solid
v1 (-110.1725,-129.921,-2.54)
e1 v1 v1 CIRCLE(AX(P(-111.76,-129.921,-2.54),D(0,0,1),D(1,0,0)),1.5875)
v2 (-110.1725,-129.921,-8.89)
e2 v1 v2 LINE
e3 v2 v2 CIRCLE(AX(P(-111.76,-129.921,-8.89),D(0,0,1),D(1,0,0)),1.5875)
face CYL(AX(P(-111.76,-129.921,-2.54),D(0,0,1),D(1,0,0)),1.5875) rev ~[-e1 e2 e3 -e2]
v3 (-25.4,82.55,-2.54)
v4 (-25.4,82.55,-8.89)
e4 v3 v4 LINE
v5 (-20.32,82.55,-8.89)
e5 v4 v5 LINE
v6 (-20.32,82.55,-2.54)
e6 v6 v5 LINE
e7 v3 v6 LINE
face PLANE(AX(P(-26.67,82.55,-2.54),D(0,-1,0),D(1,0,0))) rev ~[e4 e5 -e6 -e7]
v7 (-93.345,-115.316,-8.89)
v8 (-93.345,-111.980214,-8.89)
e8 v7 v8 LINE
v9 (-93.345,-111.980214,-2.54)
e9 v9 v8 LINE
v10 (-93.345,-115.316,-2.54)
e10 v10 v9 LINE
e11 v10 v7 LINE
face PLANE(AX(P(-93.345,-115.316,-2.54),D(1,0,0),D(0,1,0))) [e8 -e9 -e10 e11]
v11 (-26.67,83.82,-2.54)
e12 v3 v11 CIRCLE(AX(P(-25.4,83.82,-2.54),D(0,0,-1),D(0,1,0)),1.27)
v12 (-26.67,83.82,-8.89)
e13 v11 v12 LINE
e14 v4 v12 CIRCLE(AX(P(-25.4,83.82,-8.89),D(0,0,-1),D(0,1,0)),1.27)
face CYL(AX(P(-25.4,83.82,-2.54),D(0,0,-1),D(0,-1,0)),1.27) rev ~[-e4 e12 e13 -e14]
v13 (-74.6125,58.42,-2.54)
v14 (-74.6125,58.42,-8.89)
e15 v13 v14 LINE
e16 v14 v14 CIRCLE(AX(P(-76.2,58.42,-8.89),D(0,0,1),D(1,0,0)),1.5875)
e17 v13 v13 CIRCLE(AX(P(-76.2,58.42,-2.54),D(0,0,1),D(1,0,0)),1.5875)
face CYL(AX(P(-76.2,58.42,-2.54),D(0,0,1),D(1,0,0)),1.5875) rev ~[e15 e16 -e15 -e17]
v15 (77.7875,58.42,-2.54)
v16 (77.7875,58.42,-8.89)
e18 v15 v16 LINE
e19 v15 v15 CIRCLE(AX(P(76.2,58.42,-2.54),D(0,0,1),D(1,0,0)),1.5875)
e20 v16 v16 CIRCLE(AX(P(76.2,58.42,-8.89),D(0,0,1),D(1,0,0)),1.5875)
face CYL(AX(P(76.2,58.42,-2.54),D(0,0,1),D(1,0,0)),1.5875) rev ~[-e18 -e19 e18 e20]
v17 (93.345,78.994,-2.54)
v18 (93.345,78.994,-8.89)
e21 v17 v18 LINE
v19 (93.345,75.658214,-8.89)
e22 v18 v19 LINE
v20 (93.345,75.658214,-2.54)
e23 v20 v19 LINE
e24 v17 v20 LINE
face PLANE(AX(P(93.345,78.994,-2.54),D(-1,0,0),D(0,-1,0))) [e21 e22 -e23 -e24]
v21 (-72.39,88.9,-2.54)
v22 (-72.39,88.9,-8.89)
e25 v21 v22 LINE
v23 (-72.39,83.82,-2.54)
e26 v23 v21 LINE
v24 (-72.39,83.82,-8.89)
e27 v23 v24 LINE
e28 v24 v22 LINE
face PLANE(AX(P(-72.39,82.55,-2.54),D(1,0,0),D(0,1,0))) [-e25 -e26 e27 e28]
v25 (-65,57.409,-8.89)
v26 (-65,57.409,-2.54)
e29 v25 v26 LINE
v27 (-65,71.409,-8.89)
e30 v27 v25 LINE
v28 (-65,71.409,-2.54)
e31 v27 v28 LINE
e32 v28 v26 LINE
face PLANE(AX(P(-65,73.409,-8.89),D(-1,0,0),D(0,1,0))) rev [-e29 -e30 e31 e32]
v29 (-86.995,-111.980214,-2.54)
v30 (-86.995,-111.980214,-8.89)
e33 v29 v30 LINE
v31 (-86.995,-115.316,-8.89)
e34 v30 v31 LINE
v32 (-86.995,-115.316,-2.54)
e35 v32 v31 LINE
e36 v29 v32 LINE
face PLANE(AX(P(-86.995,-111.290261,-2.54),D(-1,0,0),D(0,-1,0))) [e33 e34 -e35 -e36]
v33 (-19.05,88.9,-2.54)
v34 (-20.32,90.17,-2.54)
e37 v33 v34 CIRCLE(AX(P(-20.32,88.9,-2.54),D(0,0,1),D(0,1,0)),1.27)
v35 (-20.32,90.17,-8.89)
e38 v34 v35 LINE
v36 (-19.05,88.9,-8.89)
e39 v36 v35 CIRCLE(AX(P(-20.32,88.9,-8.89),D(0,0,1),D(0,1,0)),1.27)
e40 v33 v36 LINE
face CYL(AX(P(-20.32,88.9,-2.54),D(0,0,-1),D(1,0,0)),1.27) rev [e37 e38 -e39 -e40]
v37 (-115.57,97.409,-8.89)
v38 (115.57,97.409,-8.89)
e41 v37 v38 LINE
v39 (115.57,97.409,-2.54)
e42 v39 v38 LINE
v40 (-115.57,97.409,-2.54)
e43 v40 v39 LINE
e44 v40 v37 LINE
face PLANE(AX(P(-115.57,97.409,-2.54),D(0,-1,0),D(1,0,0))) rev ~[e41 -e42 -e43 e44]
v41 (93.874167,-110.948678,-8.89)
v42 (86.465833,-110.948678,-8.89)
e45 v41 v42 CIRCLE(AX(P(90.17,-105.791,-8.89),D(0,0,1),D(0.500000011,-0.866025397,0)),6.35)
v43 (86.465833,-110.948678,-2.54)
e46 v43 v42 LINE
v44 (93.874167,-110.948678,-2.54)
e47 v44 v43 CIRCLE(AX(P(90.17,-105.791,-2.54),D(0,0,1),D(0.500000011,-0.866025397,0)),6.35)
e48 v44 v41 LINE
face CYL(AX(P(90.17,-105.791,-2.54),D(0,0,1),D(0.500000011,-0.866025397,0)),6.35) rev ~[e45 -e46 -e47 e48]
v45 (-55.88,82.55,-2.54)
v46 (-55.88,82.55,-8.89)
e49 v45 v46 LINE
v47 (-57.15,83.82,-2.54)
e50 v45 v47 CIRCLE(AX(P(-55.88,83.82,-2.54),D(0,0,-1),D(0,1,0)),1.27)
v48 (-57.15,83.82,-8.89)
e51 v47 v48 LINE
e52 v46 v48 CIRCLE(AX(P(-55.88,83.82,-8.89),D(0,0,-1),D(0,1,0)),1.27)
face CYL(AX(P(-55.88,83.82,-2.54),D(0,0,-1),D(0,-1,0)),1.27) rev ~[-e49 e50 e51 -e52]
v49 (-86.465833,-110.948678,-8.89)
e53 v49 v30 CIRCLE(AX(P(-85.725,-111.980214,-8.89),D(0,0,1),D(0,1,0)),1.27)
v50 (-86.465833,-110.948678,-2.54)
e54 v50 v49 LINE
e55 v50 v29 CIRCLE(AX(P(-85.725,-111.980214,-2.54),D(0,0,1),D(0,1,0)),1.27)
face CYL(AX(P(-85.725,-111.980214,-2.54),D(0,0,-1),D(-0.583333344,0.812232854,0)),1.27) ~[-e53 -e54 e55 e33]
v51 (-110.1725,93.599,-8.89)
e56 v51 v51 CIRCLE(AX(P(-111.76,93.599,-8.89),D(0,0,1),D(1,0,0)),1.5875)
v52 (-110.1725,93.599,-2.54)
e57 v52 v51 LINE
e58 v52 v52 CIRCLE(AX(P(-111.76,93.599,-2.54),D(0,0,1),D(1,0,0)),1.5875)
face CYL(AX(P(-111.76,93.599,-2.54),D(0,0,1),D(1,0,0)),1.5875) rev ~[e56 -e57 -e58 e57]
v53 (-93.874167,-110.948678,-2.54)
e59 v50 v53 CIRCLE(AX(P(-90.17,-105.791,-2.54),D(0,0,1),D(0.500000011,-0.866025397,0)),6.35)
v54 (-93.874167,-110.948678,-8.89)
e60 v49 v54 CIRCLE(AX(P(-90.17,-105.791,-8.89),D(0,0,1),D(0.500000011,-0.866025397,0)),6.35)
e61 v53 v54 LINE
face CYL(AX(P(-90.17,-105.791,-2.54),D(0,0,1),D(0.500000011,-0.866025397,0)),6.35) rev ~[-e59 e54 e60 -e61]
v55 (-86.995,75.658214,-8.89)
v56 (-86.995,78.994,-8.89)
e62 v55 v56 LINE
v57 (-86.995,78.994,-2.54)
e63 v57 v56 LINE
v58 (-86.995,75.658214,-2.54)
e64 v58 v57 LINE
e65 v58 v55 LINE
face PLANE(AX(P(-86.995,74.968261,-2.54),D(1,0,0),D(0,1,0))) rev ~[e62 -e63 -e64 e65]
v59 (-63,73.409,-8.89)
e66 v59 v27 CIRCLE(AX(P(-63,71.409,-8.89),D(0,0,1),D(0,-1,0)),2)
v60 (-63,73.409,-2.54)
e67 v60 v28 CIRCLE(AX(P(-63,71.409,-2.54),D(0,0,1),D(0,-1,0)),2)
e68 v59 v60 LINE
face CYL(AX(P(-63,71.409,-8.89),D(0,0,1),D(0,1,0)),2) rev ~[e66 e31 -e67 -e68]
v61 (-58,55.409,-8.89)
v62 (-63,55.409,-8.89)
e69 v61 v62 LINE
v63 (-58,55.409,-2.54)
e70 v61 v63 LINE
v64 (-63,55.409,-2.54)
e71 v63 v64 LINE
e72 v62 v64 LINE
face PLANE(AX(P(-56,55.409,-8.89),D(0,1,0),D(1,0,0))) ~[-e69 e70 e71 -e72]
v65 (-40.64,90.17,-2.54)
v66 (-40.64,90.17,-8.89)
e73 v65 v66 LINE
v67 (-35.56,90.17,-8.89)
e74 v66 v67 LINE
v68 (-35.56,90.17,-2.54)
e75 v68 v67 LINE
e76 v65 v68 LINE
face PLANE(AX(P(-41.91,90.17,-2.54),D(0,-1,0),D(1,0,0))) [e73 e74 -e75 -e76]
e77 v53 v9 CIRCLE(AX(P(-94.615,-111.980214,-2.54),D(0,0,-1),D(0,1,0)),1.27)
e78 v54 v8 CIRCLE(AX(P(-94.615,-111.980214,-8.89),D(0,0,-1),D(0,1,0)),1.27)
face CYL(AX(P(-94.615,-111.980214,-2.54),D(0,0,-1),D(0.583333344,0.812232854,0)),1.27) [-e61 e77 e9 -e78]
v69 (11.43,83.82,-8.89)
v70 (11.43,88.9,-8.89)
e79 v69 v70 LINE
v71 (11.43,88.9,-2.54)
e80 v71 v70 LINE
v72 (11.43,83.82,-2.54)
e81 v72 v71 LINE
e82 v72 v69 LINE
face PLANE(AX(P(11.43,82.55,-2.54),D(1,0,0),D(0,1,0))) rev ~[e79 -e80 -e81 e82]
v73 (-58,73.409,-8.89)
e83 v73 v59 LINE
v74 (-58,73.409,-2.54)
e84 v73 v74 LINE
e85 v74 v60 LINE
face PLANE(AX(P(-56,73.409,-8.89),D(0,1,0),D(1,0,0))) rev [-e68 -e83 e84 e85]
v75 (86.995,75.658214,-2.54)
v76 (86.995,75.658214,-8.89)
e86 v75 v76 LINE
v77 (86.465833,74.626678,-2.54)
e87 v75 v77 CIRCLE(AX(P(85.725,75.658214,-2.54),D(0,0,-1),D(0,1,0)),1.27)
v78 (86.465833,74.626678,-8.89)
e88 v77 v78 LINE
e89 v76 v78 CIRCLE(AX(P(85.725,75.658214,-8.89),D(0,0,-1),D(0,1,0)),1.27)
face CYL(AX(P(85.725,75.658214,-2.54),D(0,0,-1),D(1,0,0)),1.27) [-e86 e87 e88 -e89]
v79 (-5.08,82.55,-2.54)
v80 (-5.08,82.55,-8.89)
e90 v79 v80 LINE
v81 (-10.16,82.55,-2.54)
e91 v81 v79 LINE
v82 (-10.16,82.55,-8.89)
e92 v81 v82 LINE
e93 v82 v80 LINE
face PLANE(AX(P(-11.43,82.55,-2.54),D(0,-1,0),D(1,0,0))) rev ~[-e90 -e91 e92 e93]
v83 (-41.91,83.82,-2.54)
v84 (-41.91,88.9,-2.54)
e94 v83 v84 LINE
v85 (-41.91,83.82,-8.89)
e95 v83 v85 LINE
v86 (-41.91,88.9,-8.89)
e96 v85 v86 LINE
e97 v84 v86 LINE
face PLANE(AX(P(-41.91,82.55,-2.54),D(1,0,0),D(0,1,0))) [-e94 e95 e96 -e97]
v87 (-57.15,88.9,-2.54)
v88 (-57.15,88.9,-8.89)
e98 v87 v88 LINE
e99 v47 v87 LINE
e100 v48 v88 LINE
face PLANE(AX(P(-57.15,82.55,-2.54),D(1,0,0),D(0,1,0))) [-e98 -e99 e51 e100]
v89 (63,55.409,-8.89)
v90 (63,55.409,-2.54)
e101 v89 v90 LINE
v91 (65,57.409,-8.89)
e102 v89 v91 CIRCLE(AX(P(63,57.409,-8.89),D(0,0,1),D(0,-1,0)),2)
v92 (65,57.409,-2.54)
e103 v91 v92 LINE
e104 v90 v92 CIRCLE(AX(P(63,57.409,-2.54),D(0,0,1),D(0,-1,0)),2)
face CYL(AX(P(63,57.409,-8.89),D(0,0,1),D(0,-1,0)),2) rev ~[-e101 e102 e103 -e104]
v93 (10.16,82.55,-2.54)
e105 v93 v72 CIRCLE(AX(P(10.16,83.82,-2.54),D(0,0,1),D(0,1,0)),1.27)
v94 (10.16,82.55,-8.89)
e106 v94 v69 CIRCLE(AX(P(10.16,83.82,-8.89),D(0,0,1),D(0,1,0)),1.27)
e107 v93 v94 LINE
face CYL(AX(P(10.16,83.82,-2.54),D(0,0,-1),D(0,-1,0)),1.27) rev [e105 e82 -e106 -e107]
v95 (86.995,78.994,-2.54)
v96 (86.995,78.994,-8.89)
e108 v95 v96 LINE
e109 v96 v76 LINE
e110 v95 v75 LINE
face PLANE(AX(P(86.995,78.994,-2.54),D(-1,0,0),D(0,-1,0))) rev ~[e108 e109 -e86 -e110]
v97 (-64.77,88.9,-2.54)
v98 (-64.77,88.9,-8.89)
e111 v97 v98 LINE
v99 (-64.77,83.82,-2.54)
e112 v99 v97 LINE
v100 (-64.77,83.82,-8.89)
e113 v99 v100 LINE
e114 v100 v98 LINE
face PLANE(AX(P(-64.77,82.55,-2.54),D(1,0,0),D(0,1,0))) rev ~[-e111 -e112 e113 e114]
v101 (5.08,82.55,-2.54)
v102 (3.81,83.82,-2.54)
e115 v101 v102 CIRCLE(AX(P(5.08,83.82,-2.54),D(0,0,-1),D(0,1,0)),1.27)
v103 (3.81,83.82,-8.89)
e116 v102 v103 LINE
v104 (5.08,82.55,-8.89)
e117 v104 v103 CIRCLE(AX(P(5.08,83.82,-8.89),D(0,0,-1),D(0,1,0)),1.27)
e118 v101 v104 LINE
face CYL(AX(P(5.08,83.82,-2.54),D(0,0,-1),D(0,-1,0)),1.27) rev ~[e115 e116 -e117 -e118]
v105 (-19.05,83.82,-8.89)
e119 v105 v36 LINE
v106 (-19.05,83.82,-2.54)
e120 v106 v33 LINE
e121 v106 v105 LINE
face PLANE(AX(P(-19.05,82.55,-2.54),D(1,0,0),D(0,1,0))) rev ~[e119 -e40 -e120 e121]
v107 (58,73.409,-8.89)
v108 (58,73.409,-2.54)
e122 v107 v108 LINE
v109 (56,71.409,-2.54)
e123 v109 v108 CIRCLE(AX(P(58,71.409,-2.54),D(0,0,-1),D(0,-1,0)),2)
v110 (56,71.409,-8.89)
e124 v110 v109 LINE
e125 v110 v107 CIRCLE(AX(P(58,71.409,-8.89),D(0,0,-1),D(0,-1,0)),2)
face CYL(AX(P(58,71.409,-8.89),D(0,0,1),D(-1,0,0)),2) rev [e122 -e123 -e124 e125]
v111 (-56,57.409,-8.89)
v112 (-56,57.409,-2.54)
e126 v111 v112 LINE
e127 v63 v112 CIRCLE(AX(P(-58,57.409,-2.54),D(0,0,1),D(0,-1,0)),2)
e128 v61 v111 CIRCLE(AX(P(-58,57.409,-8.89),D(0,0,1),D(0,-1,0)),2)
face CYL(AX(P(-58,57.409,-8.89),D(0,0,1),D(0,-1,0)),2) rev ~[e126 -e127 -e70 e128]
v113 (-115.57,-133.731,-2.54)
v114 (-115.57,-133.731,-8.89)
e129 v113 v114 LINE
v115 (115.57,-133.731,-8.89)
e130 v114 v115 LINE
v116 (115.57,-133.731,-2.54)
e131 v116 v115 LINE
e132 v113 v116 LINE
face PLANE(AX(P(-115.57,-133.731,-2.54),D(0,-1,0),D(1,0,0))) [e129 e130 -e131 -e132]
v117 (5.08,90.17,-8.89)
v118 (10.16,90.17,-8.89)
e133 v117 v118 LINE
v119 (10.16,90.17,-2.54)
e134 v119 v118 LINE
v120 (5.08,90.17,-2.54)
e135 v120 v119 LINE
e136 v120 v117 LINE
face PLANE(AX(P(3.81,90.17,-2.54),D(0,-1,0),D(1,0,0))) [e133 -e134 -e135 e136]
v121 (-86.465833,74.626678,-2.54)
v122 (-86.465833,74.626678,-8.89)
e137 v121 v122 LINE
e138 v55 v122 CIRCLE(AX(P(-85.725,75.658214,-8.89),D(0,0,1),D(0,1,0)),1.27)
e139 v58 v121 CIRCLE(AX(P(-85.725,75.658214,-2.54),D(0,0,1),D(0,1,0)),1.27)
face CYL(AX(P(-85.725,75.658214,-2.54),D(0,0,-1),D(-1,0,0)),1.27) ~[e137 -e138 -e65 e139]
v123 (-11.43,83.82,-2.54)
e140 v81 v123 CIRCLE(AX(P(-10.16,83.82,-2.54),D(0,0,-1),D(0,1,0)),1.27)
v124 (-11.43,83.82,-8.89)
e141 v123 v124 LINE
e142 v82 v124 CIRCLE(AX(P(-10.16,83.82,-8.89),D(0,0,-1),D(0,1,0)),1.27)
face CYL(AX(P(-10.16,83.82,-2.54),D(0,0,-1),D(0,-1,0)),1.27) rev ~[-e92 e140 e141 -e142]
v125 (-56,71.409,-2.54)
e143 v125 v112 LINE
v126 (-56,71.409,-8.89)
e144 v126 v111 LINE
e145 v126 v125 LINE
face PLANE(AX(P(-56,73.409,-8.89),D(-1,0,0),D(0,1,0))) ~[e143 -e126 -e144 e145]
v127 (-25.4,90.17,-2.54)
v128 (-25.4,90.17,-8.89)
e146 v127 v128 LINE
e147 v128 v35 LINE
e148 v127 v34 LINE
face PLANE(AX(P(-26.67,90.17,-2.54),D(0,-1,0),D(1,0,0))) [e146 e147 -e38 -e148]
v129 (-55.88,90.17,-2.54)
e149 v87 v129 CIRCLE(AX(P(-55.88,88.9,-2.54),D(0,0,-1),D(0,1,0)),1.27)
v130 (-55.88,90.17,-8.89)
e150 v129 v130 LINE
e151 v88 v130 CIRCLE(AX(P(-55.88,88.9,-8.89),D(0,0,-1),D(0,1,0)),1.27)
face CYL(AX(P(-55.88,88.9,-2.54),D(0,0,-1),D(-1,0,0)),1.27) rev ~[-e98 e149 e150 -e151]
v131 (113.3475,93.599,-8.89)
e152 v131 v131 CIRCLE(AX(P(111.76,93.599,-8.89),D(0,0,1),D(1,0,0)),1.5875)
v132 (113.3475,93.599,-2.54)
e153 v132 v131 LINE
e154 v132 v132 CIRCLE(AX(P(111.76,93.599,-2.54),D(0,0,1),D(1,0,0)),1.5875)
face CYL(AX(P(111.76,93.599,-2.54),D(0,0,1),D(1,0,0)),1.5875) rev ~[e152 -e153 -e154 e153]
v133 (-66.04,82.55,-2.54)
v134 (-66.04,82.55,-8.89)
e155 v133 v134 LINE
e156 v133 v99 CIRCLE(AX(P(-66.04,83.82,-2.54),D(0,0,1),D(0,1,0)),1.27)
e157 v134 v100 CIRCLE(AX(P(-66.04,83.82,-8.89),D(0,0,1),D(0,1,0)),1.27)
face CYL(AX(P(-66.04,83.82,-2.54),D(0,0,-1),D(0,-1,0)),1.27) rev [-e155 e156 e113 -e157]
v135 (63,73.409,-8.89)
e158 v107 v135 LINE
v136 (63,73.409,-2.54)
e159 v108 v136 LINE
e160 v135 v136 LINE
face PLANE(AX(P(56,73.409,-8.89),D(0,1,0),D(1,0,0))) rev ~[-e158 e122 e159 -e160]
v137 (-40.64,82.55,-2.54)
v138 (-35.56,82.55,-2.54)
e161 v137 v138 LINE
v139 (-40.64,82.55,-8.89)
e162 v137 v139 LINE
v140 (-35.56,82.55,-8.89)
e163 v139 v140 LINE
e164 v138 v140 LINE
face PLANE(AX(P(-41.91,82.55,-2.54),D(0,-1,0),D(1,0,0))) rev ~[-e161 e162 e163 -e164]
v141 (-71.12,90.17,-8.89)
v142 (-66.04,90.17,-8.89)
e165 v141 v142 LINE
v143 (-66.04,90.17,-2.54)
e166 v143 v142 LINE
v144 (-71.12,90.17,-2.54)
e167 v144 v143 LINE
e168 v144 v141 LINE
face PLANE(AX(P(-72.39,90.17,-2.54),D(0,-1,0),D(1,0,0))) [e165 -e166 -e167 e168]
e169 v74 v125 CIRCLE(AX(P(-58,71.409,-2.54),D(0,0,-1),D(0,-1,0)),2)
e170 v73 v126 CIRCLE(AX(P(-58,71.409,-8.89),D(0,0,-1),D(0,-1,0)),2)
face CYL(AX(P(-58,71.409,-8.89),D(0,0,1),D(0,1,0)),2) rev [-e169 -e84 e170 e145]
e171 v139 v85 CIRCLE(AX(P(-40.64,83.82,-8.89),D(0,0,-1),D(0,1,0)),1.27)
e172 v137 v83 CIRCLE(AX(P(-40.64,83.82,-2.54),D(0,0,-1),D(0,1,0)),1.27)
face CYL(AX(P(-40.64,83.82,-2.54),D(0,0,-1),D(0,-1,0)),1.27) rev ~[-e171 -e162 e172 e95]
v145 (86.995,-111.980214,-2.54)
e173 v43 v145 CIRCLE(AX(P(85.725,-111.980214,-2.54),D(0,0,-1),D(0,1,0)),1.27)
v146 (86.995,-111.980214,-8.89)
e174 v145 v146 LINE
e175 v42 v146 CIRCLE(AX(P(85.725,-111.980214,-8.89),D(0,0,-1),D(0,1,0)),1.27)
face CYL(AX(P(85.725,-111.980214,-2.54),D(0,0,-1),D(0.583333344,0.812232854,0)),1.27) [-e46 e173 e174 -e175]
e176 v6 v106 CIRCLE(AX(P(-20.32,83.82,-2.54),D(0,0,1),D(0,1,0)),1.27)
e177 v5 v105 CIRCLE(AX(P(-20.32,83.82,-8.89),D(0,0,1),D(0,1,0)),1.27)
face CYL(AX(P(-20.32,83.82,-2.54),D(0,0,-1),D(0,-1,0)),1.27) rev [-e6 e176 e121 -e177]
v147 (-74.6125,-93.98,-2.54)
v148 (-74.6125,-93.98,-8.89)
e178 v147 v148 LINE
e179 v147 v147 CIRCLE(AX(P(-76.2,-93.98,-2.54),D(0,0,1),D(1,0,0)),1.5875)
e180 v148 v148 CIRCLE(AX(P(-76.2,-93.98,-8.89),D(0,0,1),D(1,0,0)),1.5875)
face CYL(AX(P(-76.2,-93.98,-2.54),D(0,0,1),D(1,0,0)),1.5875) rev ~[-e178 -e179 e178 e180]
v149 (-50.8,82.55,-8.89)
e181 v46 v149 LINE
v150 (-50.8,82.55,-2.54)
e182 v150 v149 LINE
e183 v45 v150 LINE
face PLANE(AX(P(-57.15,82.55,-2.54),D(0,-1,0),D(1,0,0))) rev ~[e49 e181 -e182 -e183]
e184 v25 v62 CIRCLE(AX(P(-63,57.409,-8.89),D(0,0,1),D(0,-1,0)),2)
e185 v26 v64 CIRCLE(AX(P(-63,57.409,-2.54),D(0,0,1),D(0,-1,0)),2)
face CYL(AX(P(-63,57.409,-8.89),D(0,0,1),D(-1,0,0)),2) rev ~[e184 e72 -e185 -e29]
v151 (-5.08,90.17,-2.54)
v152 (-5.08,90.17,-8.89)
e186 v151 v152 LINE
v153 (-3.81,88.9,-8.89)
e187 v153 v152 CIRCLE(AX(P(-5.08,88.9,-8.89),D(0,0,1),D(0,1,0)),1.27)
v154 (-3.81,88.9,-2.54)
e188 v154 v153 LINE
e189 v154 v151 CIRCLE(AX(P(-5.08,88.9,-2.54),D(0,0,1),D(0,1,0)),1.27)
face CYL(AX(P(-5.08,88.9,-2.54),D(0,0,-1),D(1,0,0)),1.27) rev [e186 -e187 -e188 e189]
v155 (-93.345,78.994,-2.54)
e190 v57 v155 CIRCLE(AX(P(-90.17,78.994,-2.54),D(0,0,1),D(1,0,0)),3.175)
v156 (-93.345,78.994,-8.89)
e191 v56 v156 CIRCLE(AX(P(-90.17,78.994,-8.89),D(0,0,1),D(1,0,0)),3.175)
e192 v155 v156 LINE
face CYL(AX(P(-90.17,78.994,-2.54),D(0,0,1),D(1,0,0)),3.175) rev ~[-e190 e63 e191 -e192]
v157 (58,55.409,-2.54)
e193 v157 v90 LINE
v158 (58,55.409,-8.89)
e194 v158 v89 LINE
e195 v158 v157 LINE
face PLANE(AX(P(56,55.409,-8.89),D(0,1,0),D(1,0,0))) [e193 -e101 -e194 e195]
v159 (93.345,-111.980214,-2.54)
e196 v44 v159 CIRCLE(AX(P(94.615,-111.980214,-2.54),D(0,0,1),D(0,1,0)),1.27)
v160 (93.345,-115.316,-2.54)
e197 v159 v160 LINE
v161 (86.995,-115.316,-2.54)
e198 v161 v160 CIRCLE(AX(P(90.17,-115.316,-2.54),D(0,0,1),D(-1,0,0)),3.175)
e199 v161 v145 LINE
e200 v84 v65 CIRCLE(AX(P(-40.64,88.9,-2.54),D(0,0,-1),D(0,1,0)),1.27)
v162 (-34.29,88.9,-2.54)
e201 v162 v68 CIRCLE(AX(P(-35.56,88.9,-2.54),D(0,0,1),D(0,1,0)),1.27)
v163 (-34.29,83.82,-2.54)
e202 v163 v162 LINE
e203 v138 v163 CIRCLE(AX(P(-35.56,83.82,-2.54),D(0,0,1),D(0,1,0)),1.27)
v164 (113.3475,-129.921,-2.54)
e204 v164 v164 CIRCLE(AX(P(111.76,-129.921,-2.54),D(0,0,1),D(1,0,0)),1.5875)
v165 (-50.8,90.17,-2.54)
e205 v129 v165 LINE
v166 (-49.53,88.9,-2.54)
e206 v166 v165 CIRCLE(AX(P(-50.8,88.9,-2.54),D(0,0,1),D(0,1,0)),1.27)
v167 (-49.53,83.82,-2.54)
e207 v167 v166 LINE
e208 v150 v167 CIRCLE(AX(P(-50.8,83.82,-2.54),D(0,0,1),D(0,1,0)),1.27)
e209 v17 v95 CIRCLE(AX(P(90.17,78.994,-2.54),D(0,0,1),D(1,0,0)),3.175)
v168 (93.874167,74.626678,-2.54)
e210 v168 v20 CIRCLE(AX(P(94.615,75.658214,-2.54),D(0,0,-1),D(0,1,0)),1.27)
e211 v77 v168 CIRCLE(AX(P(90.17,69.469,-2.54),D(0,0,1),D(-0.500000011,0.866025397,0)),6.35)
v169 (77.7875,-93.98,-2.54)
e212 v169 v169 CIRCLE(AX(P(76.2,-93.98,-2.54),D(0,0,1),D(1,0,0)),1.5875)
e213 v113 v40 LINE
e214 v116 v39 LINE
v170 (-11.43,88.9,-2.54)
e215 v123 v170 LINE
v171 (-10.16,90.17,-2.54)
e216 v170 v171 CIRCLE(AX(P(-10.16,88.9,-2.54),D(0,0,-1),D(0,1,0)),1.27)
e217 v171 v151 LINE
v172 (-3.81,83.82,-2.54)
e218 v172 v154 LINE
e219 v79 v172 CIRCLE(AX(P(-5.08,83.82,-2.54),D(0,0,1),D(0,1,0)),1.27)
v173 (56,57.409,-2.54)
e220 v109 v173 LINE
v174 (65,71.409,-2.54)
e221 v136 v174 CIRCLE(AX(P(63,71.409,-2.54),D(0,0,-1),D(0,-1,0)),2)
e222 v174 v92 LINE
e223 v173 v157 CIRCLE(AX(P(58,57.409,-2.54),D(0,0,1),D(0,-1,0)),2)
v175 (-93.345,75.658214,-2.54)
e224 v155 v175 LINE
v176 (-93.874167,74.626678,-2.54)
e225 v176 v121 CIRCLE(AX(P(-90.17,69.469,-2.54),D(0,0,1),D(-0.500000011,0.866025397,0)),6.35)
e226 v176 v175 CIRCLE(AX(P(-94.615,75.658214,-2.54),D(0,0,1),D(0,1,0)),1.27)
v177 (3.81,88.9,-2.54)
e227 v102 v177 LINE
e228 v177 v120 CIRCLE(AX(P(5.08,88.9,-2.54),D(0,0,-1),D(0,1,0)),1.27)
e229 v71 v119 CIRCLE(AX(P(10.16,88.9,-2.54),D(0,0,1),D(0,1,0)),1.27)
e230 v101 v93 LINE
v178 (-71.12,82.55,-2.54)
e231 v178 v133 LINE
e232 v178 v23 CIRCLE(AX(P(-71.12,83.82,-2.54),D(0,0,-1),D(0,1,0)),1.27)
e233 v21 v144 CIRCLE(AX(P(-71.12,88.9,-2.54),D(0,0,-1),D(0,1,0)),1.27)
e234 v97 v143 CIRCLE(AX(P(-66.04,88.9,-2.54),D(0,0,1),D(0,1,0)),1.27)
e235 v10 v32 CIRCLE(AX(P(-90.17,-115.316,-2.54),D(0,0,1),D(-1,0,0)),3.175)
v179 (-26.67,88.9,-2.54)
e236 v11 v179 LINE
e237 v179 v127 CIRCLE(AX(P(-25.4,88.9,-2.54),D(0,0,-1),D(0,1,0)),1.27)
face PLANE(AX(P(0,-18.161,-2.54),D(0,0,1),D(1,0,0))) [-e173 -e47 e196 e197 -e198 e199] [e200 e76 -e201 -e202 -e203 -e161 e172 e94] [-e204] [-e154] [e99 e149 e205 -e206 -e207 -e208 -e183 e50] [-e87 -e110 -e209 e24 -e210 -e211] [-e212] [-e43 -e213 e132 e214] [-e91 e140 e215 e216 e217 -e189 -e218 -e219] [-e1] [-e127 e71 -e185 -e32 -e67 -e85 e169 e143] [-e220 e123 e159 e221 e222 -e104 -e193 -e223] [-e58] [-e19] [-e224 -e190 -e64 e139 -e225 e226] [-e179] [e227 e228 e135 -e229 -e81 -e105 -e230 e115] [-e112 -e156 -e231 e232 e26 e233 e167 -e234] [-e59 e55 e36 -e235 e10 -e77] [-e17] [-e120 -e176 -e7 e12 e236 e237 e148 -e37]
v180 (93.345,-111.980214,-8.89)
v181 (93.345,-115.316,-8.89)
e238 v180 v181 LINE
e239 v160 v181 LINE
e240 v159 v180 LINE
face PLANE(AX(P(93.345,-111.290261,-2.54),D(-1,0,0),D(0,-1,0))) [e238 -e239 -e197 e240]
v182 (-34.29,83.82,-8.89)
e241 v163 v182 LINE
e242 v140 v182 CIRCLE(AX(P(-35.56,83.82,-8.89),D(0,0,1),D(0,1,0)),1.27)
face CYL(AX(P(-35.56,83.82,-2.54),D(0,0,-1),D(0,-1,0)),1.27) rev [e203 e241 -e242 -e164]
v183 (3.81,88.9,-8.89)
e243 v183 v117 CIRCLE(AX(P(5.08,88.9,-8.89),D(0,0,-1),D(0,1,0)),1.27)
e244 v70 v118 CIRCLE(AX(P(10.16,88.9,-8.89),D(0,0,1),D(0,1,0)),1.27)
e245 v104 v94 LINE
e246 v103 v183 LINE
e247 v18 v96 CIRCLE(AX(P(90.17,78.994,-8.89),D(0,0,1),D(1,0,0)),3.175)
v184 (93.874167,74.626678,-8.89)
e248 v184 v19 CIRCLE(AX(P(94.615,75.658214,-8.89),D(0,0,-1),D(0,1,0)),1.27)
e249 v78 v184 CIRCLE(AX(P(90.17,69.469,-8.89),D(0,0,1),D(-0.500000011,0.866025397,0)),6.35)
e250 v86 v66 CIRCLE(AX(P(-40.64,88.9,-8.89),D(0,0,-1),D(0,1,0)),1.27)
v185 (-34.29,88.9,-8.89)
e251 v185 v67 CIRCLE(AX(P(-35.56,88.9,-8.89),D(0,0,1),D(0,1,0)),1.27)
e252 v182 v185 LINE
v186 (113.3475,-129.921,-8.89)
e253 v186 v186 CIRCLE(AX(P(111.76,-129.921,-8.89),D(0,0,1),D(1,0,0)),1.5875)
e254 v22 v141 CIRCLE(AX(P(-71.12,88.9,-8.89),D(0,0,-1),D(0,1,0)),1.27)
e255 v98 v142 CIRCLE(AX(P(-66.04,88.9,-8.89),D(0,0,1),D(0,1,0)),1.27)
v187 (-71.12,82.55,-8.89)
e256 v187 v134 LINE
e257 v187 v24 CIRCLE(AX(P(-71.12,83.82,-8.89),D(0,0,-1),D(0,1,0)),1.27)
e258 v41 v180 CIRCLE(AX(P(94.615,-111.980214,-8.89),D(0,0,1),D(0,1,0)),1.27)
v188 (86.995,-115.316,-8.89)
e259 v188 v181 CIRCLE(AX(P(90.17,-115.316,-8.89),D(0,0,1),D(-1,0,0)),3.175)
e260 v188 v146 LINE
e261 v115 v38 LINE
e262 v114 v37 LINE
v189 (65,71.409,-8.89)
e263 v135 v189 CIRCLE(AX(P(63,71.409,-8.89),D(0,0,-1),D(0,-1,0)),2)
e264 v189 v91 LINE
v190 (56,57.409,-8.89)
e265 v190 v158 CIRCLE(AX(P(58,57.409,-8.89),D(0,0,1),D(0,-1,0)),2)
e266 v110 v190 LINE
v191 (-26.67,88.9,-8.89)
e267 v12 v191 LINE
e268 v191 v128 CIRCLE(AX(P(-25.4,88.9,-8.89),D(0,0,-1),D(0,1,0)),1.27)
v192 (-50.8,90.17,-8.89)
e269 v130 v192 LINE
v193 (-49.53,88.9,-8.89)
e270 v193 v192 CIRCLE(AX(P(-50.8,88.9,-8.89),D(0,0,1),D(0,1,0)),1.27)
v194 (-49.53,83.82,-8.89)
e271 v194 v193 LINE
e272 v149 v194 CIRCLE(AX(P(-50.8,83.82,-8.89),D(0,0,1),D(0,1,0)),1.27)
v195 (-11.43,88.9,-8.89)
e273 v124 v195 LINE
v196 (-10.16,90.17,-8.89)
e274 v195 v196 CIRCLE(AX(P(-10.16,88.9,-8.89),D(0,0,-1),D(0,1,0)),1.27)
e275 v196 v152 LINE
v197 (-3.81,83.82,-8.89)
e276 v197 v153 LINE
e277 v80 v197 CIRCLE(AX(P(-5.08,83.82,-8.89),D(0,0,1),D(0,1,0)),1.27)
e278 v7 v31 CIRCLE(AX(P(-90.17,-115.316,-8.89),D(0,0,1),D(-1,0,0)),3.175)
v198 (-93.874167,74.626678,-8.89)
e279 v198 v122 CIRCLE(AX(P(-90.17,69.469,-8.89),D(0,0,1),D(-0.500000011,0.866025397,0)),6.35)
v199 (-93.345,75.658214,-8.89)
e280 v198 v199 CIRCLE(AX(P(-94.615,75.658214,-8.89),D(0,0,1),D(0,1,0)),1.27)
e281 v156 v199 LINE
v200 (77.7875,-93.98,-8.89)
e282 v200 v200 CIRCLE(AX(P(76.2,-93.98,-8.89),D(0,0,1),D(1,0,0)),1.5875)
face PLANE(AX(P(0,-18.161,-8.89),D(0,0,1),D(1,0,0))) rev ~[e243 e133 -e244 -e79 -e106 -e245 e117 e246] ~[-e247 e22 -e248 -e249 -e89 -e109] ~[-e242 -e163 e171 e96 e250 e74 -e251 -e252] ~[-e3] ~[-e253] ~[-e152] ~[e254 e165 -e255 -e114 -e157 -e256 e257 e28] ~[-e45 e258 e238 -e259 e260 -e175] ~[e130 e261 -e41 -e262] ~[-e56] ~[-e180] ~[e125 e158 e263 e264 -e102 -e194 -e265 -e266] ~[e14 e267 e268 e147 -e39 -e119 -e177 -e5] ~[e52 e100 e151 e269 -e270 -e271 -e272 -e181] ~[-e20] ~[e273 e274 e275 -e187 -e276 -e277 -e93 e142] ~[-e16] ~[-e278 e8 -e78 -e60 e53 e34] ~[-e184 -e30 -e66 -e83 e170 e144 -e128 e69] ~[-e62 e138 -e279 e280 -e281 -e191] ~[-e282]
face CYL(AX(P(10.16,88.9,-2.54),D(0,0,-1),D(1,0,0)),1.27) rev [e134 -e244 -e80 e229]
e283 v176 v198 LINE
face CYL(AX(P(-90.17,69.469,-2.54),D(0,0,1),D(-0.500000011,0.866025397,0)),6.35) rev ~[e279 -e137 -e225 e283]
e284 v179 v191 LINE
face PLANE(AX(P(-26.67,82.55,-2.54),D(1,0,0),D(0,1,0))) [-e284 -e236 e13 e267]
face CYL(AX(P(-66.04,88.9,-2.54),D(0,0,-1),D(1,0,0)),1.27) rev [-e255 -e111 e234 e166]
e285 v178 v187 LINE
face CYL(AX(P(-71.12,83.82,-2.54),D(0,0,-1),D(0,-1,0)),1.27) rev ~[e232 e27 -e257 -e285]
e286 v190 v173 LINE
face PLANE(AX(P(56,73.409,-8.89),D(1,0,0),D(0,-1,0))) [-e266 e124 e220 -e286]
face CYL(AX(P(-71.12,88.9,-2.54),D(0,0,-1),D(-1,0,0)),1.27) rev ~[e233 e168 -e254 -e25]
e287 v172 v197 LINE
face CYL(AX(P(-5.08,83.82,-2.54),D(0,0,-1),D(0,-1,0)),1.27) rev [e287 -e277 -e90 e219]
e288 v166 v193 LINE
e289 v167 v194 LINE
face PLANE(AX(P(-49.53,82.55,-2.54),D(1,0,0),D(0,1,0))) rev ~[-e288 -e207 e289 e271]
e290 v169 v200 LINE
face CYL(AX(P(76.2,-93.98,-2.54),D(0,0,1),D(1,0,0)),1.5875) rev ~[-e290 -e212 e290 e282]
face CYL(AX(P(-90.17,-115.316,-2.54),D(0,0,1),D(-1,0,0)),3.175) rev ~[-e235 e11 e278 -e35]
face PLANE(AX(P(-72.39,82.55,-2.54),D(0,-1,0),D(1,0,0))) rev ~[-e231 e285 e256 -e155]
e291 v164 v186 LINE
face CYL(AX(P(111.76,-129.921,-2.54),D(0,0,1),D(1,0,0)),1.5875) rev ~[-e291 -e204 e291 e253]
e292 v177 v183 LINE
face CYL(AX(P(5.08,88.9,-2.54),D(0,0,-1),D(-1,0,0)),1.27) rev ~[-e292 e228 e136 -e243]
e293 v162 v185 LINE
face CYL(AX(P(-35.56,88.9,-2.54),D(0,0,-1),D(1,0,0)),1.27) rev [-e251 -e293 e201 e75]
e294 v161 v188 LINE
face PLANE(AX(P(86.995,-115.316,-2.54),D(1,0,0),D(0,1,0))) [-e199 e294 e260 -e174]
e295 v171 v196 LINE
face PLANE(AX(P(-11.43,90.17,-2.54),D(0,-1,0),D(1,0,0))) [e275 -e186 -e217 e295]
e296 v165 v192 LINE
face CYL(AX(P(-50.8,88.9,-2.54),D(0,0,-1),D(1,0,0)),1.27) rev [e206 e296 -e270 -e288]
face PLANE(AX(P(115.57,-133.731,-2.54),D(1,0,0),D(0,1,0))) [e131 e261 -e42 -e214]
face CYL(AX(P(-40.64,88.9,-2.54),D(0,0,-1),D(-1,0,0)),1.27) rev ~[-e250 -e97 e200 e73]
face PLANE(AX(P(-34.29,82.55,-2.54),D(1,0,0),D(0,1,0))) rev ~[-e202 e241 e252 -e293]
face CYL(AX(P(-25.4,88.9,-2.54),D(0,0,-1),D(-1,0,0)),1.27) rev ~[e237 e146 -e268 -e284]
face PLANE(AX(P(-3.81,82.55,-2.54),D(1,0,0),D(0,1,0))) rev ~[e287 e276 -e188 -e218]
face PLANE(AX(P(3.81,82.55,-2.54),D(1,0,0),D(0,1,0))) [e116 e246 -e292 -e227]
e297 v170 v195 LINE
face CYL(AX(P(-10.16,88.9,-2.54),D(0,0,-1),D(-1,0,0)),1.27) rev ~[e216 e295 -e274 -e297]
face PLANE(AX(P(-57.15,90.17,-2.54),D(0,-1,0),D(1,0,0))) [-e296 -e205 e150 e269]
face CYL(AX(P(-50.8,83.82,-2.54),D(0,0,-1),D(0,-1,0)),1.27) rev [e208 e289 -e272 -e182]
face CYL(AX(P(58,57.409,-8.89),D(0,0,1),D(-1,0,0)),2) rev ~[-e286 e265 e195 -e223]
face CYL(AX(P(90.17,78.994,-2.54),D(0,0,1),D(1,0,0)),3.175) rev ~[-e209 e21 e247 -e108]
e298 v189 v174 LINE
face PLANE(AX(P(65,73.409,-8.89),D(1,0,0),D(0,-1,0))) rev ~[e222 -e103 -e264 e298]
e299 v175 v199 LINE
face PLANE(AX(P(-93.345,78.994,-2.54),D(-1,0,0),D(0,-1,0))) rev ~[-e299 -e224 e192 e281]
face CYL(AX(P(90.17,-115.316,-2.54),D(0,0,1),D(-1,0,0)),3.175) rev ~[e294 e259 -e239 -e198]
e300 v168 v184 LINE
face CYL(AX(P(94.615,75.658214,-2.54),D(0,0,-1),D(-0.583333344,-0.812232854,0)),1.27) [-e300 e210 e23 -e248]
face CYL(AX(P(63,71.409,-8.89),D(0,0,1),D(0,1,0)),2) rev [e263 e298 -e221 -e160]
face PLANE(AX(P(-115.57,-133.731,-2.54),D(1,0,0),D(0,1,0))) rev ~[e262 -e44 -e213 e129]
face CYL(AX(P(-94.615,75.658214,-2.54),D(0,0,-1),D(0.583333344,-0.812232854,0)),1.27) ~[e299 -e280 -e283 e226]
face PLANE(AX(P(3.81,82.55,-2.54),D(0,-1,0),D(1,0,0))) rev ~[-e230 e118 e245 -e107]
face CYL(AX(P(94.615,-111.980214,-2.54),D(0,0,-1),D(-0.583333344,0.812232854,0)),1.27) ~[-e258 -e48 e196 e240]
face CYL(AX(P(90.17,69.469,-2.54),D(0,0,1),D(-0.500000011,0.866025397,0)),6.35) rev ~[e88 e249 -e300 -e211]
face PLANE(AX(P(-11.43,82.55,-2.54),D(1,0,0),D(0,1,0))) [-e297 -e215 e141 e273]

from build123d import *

# Parameters (mm, degrees)
SKETCH021_W   = 231.14
SKETCH021_H   = 231.14
SKETCH021_R   = 1.5875
SKETCH021_W_2 = 7.62
SKETCH021_H_2 = 7.62
PAD003_DEPTH  = 6.35
FILLET_R      = 1.27
FILLET001_R   = 1.27
SKETCH025_W   = 9
SKETCH025_H   = 18
POCKET_DEPTH  = 6.35
FILLET002_R   = 2


with BuildPart() as part:
    # Sketch021 → Pad003 (new body)
    with BuildSketch(Plane.XY):
        with Locations((0, -18.161)):
            Rectangle(SKETCH021_W, SKETCH021_H)
        with Locations((-111.76, -129.921)):
            Circle(SKETCH021_R, mode=Mode.SUBTRACT)
        with Locations((111.76, -129.921)):
            Circle(SKETCH021_R, mode=Mode.SUBTRACT)
        with Locations((111.76, 93.599)):
            Circle(SKETCH021_R, mode=Mode.SUBTRACT)
        with Locations((-111.76, 93.599)):
            Circle(SKETCH021_R, mode=Mode.SUBTRACT)
        with Locations((-76.2, 58.42)):
            Circle(SKETCH021_R, mode=Mode.SUBTRACT)
        with Locations((76.2, 58.42)):
            Circle(SKETCH021_R, mode=Mode.SUBTRACT)
        with Locations((76.2, -93.98)):
            Circle(SKETCH021_R, mode=Mode.SUBTRACT)
        with Locations((-76.2, -93.98)):
            Circle(SKETCH021_R, mode=Mode.SUBTRACT)
        with BuildLine():
            Line((-86.995, 74.968261), (-86.995, 78.994))
            ThreePointArc((-86.995, 78.994), (-90.17, 82.169), (-93.345, 78.994))
            Line((-93.345, 78.994), (-93.345, 74.968261))
            ThreePointArc((-93.345, 74.968261), (-90.17, 63.119), (-86.995, 74.968261))
        make_face(mode=Mode.SUBTRACT)
        with Locations((7.62, 86.36)):
            Rectangle(SKETCH021_W_2, SKETCH021_H_2, mode=Mode.SUBTRACT)
        with Locations((-22.86, 86.36)):
            Rectangle(SKETCH021_W_2, SKETCH021_H_2, mode=Mode.SUBTRACT)
        with Locations((-38.1, 86.36)):
            Rectangle(SKETCH021_W_2, SKETCH021_H_2, mode=Mode.SUBTRACT)
        with Locations((-7.62, 86.36)):
            Rectangle(SKETCH021_W_2, SKETCH021_H_2, mode=Mode.SUBTRACT)
        with Locations((-68.58, 86.36)):
            Rectangle(SKETCH021_W_2, SKETCH021_H_2, mode=Mode.SUBTRACT)
        with Locations((-53.34, 86.36)):
            Rectangle(SKETCH021_W_2, SKETCH021_H_2, mode=Mode.SUBTRACT)
        with BuildLine():
            Line((86.995, 78.994), (86.995, 74.968261))
            ThreePointArc((86.995, 74.968261), (90.17, 63.119), (93.345, 74.968261))
            Line((93.345, 78.994), (93.345, 74.968261))
            ThreePointArc((93.345, 78.994), (90.17, 82.169), (86.995, 78.994))
        make_face(mode=Mode.SUBTRACT)
        with BuildLine():
            Line((-86.995, -111.290261), (-86.995, -115.316))
            ThreePointArc((-93.345, -115.316), (-90.17, -118.491), (-86.995, -115.316))
            Line((-93.345, -115.316), (-93.345, -111.290261))
            ThreePointArc((-86.995, -111.290261), (-90.17, -99.441), (-93.345, -111.290261))
        make_face(mode=Mode.SUBTRACT)
        with BuildLine():
            Line((93.345, -111.290261), (93.345, -115.316))
            ThreePointArc((86.995, -115.316), (90.17, -118.491), (93.345, -115.316))
            Line((86.995, -115.316), (86.995, -111.290261))
            ThreePointArc((93.345, -111.290261), (90.17, -99.441), (86.995, -111.290261))
        make_face(mode=Mode.SUBTRACT)
    extrude(amount=-PAD003_DEPTH)

    # Fillet
    fillet_edges = [part.edges().sort_by_distance(p)[0] for p in [
        (-72.39, 90.17, -3.175),
        (-64.77, 90.17, -3.175),
        (-64.77, 82.55, -3.175),
        (-72.39, 82.55, -3.175),
        (-57.15, 90.17, -3.175),
        (-49.53, 90.17, -3.175),
        (-49.53, 82.55, -3.175),
        (-57.15, 82.55, -3.175),
        (-41.91, 90.17, -3.175),
        (-34.29, 90.17, -3.175),
        (-34.29, 82.55, -3.175),
        (-41.91, 82.55, -3.175),
        (-26.67, 90.17, -3.175),
        (-19.05, 90.17, -3.175),
        (-19.05, 82.55, -3.175),
        (-26.67, 82.55, -3.175),
        (-11.43, 90.17, -3.175),
        (-3.81, 90.17, -3.175),
        (-3.81, 82.55, -3.175),
        (-11.43, 82.55, -3.175),
        (3.81, 90.17, -3.175),
        (11.43, 90.17, -3.175),
        (11.43, 82.55, -3.175),
        (3.81, 82.55, -3.175),
    ]]
    fillet(fillet_edges, radius=FILLET_R)

    # Fillet001
    fillet001_edges = [part.edges().sort_by_distance(p)[0] for p in [
        (-93.345, 74.968261, -3.175),
        (-86.995, 74.968261, -3.175),
        (93.345, 74.968261, -3.175),
        (86.995, 74.968261, -3.175),
        (93.345, -111.290261, -3.175),
        (86.995, -111.290261, -3.175),
        (-93.345, -111.290261, -3.175),
        (-86.995, -111.290261, -3.175),
    ]]
    fillet(fillet001_edges, radius=FILLET001_R)

    # Sketch025 (on Face86 of Fillet001) → Pocket (cut)
    with BuildSketch(Plane(origin=(0, 0, -6.35), x_dir=(1, 0, 0), z_dir=(0, 0, -1))):
        with Locations((60.5, -64.409)):
            Rectangle(SKETCH025_W, SKETCH025_H)
    pocket = extrude(amount=-POCKET_DEPTH, mode=Mode.SUBTRACT)

    # Mirrored: Pocket across YZ
    add(pocket.mirror(Plane.YZ), mode=Mode.SUBTRACT)

    # Fillet002
    fillet002_edges = [part.edges().sort_by_distance(p)[0] for p in [
        (-65, 73.409, -3.175),
        (-56, 73.409, -3.175),
        (-56, 55.409, -3.175),
        (-65, 55.409, -3.175),
        (56, 73.409, -3.175),
        (65, 73.409, -3.175),
        (65, 55.409, -3.175),
        (56, 55.409, -3.175),
    ]]
    fillet(fillet002_edges, radius=FILLET002_R)


with BuildPart() as part_1:
    # Body030 placement: moved
    add(part.part.moved(Location((0, 0, -2.54))))


solid = part_1.part
